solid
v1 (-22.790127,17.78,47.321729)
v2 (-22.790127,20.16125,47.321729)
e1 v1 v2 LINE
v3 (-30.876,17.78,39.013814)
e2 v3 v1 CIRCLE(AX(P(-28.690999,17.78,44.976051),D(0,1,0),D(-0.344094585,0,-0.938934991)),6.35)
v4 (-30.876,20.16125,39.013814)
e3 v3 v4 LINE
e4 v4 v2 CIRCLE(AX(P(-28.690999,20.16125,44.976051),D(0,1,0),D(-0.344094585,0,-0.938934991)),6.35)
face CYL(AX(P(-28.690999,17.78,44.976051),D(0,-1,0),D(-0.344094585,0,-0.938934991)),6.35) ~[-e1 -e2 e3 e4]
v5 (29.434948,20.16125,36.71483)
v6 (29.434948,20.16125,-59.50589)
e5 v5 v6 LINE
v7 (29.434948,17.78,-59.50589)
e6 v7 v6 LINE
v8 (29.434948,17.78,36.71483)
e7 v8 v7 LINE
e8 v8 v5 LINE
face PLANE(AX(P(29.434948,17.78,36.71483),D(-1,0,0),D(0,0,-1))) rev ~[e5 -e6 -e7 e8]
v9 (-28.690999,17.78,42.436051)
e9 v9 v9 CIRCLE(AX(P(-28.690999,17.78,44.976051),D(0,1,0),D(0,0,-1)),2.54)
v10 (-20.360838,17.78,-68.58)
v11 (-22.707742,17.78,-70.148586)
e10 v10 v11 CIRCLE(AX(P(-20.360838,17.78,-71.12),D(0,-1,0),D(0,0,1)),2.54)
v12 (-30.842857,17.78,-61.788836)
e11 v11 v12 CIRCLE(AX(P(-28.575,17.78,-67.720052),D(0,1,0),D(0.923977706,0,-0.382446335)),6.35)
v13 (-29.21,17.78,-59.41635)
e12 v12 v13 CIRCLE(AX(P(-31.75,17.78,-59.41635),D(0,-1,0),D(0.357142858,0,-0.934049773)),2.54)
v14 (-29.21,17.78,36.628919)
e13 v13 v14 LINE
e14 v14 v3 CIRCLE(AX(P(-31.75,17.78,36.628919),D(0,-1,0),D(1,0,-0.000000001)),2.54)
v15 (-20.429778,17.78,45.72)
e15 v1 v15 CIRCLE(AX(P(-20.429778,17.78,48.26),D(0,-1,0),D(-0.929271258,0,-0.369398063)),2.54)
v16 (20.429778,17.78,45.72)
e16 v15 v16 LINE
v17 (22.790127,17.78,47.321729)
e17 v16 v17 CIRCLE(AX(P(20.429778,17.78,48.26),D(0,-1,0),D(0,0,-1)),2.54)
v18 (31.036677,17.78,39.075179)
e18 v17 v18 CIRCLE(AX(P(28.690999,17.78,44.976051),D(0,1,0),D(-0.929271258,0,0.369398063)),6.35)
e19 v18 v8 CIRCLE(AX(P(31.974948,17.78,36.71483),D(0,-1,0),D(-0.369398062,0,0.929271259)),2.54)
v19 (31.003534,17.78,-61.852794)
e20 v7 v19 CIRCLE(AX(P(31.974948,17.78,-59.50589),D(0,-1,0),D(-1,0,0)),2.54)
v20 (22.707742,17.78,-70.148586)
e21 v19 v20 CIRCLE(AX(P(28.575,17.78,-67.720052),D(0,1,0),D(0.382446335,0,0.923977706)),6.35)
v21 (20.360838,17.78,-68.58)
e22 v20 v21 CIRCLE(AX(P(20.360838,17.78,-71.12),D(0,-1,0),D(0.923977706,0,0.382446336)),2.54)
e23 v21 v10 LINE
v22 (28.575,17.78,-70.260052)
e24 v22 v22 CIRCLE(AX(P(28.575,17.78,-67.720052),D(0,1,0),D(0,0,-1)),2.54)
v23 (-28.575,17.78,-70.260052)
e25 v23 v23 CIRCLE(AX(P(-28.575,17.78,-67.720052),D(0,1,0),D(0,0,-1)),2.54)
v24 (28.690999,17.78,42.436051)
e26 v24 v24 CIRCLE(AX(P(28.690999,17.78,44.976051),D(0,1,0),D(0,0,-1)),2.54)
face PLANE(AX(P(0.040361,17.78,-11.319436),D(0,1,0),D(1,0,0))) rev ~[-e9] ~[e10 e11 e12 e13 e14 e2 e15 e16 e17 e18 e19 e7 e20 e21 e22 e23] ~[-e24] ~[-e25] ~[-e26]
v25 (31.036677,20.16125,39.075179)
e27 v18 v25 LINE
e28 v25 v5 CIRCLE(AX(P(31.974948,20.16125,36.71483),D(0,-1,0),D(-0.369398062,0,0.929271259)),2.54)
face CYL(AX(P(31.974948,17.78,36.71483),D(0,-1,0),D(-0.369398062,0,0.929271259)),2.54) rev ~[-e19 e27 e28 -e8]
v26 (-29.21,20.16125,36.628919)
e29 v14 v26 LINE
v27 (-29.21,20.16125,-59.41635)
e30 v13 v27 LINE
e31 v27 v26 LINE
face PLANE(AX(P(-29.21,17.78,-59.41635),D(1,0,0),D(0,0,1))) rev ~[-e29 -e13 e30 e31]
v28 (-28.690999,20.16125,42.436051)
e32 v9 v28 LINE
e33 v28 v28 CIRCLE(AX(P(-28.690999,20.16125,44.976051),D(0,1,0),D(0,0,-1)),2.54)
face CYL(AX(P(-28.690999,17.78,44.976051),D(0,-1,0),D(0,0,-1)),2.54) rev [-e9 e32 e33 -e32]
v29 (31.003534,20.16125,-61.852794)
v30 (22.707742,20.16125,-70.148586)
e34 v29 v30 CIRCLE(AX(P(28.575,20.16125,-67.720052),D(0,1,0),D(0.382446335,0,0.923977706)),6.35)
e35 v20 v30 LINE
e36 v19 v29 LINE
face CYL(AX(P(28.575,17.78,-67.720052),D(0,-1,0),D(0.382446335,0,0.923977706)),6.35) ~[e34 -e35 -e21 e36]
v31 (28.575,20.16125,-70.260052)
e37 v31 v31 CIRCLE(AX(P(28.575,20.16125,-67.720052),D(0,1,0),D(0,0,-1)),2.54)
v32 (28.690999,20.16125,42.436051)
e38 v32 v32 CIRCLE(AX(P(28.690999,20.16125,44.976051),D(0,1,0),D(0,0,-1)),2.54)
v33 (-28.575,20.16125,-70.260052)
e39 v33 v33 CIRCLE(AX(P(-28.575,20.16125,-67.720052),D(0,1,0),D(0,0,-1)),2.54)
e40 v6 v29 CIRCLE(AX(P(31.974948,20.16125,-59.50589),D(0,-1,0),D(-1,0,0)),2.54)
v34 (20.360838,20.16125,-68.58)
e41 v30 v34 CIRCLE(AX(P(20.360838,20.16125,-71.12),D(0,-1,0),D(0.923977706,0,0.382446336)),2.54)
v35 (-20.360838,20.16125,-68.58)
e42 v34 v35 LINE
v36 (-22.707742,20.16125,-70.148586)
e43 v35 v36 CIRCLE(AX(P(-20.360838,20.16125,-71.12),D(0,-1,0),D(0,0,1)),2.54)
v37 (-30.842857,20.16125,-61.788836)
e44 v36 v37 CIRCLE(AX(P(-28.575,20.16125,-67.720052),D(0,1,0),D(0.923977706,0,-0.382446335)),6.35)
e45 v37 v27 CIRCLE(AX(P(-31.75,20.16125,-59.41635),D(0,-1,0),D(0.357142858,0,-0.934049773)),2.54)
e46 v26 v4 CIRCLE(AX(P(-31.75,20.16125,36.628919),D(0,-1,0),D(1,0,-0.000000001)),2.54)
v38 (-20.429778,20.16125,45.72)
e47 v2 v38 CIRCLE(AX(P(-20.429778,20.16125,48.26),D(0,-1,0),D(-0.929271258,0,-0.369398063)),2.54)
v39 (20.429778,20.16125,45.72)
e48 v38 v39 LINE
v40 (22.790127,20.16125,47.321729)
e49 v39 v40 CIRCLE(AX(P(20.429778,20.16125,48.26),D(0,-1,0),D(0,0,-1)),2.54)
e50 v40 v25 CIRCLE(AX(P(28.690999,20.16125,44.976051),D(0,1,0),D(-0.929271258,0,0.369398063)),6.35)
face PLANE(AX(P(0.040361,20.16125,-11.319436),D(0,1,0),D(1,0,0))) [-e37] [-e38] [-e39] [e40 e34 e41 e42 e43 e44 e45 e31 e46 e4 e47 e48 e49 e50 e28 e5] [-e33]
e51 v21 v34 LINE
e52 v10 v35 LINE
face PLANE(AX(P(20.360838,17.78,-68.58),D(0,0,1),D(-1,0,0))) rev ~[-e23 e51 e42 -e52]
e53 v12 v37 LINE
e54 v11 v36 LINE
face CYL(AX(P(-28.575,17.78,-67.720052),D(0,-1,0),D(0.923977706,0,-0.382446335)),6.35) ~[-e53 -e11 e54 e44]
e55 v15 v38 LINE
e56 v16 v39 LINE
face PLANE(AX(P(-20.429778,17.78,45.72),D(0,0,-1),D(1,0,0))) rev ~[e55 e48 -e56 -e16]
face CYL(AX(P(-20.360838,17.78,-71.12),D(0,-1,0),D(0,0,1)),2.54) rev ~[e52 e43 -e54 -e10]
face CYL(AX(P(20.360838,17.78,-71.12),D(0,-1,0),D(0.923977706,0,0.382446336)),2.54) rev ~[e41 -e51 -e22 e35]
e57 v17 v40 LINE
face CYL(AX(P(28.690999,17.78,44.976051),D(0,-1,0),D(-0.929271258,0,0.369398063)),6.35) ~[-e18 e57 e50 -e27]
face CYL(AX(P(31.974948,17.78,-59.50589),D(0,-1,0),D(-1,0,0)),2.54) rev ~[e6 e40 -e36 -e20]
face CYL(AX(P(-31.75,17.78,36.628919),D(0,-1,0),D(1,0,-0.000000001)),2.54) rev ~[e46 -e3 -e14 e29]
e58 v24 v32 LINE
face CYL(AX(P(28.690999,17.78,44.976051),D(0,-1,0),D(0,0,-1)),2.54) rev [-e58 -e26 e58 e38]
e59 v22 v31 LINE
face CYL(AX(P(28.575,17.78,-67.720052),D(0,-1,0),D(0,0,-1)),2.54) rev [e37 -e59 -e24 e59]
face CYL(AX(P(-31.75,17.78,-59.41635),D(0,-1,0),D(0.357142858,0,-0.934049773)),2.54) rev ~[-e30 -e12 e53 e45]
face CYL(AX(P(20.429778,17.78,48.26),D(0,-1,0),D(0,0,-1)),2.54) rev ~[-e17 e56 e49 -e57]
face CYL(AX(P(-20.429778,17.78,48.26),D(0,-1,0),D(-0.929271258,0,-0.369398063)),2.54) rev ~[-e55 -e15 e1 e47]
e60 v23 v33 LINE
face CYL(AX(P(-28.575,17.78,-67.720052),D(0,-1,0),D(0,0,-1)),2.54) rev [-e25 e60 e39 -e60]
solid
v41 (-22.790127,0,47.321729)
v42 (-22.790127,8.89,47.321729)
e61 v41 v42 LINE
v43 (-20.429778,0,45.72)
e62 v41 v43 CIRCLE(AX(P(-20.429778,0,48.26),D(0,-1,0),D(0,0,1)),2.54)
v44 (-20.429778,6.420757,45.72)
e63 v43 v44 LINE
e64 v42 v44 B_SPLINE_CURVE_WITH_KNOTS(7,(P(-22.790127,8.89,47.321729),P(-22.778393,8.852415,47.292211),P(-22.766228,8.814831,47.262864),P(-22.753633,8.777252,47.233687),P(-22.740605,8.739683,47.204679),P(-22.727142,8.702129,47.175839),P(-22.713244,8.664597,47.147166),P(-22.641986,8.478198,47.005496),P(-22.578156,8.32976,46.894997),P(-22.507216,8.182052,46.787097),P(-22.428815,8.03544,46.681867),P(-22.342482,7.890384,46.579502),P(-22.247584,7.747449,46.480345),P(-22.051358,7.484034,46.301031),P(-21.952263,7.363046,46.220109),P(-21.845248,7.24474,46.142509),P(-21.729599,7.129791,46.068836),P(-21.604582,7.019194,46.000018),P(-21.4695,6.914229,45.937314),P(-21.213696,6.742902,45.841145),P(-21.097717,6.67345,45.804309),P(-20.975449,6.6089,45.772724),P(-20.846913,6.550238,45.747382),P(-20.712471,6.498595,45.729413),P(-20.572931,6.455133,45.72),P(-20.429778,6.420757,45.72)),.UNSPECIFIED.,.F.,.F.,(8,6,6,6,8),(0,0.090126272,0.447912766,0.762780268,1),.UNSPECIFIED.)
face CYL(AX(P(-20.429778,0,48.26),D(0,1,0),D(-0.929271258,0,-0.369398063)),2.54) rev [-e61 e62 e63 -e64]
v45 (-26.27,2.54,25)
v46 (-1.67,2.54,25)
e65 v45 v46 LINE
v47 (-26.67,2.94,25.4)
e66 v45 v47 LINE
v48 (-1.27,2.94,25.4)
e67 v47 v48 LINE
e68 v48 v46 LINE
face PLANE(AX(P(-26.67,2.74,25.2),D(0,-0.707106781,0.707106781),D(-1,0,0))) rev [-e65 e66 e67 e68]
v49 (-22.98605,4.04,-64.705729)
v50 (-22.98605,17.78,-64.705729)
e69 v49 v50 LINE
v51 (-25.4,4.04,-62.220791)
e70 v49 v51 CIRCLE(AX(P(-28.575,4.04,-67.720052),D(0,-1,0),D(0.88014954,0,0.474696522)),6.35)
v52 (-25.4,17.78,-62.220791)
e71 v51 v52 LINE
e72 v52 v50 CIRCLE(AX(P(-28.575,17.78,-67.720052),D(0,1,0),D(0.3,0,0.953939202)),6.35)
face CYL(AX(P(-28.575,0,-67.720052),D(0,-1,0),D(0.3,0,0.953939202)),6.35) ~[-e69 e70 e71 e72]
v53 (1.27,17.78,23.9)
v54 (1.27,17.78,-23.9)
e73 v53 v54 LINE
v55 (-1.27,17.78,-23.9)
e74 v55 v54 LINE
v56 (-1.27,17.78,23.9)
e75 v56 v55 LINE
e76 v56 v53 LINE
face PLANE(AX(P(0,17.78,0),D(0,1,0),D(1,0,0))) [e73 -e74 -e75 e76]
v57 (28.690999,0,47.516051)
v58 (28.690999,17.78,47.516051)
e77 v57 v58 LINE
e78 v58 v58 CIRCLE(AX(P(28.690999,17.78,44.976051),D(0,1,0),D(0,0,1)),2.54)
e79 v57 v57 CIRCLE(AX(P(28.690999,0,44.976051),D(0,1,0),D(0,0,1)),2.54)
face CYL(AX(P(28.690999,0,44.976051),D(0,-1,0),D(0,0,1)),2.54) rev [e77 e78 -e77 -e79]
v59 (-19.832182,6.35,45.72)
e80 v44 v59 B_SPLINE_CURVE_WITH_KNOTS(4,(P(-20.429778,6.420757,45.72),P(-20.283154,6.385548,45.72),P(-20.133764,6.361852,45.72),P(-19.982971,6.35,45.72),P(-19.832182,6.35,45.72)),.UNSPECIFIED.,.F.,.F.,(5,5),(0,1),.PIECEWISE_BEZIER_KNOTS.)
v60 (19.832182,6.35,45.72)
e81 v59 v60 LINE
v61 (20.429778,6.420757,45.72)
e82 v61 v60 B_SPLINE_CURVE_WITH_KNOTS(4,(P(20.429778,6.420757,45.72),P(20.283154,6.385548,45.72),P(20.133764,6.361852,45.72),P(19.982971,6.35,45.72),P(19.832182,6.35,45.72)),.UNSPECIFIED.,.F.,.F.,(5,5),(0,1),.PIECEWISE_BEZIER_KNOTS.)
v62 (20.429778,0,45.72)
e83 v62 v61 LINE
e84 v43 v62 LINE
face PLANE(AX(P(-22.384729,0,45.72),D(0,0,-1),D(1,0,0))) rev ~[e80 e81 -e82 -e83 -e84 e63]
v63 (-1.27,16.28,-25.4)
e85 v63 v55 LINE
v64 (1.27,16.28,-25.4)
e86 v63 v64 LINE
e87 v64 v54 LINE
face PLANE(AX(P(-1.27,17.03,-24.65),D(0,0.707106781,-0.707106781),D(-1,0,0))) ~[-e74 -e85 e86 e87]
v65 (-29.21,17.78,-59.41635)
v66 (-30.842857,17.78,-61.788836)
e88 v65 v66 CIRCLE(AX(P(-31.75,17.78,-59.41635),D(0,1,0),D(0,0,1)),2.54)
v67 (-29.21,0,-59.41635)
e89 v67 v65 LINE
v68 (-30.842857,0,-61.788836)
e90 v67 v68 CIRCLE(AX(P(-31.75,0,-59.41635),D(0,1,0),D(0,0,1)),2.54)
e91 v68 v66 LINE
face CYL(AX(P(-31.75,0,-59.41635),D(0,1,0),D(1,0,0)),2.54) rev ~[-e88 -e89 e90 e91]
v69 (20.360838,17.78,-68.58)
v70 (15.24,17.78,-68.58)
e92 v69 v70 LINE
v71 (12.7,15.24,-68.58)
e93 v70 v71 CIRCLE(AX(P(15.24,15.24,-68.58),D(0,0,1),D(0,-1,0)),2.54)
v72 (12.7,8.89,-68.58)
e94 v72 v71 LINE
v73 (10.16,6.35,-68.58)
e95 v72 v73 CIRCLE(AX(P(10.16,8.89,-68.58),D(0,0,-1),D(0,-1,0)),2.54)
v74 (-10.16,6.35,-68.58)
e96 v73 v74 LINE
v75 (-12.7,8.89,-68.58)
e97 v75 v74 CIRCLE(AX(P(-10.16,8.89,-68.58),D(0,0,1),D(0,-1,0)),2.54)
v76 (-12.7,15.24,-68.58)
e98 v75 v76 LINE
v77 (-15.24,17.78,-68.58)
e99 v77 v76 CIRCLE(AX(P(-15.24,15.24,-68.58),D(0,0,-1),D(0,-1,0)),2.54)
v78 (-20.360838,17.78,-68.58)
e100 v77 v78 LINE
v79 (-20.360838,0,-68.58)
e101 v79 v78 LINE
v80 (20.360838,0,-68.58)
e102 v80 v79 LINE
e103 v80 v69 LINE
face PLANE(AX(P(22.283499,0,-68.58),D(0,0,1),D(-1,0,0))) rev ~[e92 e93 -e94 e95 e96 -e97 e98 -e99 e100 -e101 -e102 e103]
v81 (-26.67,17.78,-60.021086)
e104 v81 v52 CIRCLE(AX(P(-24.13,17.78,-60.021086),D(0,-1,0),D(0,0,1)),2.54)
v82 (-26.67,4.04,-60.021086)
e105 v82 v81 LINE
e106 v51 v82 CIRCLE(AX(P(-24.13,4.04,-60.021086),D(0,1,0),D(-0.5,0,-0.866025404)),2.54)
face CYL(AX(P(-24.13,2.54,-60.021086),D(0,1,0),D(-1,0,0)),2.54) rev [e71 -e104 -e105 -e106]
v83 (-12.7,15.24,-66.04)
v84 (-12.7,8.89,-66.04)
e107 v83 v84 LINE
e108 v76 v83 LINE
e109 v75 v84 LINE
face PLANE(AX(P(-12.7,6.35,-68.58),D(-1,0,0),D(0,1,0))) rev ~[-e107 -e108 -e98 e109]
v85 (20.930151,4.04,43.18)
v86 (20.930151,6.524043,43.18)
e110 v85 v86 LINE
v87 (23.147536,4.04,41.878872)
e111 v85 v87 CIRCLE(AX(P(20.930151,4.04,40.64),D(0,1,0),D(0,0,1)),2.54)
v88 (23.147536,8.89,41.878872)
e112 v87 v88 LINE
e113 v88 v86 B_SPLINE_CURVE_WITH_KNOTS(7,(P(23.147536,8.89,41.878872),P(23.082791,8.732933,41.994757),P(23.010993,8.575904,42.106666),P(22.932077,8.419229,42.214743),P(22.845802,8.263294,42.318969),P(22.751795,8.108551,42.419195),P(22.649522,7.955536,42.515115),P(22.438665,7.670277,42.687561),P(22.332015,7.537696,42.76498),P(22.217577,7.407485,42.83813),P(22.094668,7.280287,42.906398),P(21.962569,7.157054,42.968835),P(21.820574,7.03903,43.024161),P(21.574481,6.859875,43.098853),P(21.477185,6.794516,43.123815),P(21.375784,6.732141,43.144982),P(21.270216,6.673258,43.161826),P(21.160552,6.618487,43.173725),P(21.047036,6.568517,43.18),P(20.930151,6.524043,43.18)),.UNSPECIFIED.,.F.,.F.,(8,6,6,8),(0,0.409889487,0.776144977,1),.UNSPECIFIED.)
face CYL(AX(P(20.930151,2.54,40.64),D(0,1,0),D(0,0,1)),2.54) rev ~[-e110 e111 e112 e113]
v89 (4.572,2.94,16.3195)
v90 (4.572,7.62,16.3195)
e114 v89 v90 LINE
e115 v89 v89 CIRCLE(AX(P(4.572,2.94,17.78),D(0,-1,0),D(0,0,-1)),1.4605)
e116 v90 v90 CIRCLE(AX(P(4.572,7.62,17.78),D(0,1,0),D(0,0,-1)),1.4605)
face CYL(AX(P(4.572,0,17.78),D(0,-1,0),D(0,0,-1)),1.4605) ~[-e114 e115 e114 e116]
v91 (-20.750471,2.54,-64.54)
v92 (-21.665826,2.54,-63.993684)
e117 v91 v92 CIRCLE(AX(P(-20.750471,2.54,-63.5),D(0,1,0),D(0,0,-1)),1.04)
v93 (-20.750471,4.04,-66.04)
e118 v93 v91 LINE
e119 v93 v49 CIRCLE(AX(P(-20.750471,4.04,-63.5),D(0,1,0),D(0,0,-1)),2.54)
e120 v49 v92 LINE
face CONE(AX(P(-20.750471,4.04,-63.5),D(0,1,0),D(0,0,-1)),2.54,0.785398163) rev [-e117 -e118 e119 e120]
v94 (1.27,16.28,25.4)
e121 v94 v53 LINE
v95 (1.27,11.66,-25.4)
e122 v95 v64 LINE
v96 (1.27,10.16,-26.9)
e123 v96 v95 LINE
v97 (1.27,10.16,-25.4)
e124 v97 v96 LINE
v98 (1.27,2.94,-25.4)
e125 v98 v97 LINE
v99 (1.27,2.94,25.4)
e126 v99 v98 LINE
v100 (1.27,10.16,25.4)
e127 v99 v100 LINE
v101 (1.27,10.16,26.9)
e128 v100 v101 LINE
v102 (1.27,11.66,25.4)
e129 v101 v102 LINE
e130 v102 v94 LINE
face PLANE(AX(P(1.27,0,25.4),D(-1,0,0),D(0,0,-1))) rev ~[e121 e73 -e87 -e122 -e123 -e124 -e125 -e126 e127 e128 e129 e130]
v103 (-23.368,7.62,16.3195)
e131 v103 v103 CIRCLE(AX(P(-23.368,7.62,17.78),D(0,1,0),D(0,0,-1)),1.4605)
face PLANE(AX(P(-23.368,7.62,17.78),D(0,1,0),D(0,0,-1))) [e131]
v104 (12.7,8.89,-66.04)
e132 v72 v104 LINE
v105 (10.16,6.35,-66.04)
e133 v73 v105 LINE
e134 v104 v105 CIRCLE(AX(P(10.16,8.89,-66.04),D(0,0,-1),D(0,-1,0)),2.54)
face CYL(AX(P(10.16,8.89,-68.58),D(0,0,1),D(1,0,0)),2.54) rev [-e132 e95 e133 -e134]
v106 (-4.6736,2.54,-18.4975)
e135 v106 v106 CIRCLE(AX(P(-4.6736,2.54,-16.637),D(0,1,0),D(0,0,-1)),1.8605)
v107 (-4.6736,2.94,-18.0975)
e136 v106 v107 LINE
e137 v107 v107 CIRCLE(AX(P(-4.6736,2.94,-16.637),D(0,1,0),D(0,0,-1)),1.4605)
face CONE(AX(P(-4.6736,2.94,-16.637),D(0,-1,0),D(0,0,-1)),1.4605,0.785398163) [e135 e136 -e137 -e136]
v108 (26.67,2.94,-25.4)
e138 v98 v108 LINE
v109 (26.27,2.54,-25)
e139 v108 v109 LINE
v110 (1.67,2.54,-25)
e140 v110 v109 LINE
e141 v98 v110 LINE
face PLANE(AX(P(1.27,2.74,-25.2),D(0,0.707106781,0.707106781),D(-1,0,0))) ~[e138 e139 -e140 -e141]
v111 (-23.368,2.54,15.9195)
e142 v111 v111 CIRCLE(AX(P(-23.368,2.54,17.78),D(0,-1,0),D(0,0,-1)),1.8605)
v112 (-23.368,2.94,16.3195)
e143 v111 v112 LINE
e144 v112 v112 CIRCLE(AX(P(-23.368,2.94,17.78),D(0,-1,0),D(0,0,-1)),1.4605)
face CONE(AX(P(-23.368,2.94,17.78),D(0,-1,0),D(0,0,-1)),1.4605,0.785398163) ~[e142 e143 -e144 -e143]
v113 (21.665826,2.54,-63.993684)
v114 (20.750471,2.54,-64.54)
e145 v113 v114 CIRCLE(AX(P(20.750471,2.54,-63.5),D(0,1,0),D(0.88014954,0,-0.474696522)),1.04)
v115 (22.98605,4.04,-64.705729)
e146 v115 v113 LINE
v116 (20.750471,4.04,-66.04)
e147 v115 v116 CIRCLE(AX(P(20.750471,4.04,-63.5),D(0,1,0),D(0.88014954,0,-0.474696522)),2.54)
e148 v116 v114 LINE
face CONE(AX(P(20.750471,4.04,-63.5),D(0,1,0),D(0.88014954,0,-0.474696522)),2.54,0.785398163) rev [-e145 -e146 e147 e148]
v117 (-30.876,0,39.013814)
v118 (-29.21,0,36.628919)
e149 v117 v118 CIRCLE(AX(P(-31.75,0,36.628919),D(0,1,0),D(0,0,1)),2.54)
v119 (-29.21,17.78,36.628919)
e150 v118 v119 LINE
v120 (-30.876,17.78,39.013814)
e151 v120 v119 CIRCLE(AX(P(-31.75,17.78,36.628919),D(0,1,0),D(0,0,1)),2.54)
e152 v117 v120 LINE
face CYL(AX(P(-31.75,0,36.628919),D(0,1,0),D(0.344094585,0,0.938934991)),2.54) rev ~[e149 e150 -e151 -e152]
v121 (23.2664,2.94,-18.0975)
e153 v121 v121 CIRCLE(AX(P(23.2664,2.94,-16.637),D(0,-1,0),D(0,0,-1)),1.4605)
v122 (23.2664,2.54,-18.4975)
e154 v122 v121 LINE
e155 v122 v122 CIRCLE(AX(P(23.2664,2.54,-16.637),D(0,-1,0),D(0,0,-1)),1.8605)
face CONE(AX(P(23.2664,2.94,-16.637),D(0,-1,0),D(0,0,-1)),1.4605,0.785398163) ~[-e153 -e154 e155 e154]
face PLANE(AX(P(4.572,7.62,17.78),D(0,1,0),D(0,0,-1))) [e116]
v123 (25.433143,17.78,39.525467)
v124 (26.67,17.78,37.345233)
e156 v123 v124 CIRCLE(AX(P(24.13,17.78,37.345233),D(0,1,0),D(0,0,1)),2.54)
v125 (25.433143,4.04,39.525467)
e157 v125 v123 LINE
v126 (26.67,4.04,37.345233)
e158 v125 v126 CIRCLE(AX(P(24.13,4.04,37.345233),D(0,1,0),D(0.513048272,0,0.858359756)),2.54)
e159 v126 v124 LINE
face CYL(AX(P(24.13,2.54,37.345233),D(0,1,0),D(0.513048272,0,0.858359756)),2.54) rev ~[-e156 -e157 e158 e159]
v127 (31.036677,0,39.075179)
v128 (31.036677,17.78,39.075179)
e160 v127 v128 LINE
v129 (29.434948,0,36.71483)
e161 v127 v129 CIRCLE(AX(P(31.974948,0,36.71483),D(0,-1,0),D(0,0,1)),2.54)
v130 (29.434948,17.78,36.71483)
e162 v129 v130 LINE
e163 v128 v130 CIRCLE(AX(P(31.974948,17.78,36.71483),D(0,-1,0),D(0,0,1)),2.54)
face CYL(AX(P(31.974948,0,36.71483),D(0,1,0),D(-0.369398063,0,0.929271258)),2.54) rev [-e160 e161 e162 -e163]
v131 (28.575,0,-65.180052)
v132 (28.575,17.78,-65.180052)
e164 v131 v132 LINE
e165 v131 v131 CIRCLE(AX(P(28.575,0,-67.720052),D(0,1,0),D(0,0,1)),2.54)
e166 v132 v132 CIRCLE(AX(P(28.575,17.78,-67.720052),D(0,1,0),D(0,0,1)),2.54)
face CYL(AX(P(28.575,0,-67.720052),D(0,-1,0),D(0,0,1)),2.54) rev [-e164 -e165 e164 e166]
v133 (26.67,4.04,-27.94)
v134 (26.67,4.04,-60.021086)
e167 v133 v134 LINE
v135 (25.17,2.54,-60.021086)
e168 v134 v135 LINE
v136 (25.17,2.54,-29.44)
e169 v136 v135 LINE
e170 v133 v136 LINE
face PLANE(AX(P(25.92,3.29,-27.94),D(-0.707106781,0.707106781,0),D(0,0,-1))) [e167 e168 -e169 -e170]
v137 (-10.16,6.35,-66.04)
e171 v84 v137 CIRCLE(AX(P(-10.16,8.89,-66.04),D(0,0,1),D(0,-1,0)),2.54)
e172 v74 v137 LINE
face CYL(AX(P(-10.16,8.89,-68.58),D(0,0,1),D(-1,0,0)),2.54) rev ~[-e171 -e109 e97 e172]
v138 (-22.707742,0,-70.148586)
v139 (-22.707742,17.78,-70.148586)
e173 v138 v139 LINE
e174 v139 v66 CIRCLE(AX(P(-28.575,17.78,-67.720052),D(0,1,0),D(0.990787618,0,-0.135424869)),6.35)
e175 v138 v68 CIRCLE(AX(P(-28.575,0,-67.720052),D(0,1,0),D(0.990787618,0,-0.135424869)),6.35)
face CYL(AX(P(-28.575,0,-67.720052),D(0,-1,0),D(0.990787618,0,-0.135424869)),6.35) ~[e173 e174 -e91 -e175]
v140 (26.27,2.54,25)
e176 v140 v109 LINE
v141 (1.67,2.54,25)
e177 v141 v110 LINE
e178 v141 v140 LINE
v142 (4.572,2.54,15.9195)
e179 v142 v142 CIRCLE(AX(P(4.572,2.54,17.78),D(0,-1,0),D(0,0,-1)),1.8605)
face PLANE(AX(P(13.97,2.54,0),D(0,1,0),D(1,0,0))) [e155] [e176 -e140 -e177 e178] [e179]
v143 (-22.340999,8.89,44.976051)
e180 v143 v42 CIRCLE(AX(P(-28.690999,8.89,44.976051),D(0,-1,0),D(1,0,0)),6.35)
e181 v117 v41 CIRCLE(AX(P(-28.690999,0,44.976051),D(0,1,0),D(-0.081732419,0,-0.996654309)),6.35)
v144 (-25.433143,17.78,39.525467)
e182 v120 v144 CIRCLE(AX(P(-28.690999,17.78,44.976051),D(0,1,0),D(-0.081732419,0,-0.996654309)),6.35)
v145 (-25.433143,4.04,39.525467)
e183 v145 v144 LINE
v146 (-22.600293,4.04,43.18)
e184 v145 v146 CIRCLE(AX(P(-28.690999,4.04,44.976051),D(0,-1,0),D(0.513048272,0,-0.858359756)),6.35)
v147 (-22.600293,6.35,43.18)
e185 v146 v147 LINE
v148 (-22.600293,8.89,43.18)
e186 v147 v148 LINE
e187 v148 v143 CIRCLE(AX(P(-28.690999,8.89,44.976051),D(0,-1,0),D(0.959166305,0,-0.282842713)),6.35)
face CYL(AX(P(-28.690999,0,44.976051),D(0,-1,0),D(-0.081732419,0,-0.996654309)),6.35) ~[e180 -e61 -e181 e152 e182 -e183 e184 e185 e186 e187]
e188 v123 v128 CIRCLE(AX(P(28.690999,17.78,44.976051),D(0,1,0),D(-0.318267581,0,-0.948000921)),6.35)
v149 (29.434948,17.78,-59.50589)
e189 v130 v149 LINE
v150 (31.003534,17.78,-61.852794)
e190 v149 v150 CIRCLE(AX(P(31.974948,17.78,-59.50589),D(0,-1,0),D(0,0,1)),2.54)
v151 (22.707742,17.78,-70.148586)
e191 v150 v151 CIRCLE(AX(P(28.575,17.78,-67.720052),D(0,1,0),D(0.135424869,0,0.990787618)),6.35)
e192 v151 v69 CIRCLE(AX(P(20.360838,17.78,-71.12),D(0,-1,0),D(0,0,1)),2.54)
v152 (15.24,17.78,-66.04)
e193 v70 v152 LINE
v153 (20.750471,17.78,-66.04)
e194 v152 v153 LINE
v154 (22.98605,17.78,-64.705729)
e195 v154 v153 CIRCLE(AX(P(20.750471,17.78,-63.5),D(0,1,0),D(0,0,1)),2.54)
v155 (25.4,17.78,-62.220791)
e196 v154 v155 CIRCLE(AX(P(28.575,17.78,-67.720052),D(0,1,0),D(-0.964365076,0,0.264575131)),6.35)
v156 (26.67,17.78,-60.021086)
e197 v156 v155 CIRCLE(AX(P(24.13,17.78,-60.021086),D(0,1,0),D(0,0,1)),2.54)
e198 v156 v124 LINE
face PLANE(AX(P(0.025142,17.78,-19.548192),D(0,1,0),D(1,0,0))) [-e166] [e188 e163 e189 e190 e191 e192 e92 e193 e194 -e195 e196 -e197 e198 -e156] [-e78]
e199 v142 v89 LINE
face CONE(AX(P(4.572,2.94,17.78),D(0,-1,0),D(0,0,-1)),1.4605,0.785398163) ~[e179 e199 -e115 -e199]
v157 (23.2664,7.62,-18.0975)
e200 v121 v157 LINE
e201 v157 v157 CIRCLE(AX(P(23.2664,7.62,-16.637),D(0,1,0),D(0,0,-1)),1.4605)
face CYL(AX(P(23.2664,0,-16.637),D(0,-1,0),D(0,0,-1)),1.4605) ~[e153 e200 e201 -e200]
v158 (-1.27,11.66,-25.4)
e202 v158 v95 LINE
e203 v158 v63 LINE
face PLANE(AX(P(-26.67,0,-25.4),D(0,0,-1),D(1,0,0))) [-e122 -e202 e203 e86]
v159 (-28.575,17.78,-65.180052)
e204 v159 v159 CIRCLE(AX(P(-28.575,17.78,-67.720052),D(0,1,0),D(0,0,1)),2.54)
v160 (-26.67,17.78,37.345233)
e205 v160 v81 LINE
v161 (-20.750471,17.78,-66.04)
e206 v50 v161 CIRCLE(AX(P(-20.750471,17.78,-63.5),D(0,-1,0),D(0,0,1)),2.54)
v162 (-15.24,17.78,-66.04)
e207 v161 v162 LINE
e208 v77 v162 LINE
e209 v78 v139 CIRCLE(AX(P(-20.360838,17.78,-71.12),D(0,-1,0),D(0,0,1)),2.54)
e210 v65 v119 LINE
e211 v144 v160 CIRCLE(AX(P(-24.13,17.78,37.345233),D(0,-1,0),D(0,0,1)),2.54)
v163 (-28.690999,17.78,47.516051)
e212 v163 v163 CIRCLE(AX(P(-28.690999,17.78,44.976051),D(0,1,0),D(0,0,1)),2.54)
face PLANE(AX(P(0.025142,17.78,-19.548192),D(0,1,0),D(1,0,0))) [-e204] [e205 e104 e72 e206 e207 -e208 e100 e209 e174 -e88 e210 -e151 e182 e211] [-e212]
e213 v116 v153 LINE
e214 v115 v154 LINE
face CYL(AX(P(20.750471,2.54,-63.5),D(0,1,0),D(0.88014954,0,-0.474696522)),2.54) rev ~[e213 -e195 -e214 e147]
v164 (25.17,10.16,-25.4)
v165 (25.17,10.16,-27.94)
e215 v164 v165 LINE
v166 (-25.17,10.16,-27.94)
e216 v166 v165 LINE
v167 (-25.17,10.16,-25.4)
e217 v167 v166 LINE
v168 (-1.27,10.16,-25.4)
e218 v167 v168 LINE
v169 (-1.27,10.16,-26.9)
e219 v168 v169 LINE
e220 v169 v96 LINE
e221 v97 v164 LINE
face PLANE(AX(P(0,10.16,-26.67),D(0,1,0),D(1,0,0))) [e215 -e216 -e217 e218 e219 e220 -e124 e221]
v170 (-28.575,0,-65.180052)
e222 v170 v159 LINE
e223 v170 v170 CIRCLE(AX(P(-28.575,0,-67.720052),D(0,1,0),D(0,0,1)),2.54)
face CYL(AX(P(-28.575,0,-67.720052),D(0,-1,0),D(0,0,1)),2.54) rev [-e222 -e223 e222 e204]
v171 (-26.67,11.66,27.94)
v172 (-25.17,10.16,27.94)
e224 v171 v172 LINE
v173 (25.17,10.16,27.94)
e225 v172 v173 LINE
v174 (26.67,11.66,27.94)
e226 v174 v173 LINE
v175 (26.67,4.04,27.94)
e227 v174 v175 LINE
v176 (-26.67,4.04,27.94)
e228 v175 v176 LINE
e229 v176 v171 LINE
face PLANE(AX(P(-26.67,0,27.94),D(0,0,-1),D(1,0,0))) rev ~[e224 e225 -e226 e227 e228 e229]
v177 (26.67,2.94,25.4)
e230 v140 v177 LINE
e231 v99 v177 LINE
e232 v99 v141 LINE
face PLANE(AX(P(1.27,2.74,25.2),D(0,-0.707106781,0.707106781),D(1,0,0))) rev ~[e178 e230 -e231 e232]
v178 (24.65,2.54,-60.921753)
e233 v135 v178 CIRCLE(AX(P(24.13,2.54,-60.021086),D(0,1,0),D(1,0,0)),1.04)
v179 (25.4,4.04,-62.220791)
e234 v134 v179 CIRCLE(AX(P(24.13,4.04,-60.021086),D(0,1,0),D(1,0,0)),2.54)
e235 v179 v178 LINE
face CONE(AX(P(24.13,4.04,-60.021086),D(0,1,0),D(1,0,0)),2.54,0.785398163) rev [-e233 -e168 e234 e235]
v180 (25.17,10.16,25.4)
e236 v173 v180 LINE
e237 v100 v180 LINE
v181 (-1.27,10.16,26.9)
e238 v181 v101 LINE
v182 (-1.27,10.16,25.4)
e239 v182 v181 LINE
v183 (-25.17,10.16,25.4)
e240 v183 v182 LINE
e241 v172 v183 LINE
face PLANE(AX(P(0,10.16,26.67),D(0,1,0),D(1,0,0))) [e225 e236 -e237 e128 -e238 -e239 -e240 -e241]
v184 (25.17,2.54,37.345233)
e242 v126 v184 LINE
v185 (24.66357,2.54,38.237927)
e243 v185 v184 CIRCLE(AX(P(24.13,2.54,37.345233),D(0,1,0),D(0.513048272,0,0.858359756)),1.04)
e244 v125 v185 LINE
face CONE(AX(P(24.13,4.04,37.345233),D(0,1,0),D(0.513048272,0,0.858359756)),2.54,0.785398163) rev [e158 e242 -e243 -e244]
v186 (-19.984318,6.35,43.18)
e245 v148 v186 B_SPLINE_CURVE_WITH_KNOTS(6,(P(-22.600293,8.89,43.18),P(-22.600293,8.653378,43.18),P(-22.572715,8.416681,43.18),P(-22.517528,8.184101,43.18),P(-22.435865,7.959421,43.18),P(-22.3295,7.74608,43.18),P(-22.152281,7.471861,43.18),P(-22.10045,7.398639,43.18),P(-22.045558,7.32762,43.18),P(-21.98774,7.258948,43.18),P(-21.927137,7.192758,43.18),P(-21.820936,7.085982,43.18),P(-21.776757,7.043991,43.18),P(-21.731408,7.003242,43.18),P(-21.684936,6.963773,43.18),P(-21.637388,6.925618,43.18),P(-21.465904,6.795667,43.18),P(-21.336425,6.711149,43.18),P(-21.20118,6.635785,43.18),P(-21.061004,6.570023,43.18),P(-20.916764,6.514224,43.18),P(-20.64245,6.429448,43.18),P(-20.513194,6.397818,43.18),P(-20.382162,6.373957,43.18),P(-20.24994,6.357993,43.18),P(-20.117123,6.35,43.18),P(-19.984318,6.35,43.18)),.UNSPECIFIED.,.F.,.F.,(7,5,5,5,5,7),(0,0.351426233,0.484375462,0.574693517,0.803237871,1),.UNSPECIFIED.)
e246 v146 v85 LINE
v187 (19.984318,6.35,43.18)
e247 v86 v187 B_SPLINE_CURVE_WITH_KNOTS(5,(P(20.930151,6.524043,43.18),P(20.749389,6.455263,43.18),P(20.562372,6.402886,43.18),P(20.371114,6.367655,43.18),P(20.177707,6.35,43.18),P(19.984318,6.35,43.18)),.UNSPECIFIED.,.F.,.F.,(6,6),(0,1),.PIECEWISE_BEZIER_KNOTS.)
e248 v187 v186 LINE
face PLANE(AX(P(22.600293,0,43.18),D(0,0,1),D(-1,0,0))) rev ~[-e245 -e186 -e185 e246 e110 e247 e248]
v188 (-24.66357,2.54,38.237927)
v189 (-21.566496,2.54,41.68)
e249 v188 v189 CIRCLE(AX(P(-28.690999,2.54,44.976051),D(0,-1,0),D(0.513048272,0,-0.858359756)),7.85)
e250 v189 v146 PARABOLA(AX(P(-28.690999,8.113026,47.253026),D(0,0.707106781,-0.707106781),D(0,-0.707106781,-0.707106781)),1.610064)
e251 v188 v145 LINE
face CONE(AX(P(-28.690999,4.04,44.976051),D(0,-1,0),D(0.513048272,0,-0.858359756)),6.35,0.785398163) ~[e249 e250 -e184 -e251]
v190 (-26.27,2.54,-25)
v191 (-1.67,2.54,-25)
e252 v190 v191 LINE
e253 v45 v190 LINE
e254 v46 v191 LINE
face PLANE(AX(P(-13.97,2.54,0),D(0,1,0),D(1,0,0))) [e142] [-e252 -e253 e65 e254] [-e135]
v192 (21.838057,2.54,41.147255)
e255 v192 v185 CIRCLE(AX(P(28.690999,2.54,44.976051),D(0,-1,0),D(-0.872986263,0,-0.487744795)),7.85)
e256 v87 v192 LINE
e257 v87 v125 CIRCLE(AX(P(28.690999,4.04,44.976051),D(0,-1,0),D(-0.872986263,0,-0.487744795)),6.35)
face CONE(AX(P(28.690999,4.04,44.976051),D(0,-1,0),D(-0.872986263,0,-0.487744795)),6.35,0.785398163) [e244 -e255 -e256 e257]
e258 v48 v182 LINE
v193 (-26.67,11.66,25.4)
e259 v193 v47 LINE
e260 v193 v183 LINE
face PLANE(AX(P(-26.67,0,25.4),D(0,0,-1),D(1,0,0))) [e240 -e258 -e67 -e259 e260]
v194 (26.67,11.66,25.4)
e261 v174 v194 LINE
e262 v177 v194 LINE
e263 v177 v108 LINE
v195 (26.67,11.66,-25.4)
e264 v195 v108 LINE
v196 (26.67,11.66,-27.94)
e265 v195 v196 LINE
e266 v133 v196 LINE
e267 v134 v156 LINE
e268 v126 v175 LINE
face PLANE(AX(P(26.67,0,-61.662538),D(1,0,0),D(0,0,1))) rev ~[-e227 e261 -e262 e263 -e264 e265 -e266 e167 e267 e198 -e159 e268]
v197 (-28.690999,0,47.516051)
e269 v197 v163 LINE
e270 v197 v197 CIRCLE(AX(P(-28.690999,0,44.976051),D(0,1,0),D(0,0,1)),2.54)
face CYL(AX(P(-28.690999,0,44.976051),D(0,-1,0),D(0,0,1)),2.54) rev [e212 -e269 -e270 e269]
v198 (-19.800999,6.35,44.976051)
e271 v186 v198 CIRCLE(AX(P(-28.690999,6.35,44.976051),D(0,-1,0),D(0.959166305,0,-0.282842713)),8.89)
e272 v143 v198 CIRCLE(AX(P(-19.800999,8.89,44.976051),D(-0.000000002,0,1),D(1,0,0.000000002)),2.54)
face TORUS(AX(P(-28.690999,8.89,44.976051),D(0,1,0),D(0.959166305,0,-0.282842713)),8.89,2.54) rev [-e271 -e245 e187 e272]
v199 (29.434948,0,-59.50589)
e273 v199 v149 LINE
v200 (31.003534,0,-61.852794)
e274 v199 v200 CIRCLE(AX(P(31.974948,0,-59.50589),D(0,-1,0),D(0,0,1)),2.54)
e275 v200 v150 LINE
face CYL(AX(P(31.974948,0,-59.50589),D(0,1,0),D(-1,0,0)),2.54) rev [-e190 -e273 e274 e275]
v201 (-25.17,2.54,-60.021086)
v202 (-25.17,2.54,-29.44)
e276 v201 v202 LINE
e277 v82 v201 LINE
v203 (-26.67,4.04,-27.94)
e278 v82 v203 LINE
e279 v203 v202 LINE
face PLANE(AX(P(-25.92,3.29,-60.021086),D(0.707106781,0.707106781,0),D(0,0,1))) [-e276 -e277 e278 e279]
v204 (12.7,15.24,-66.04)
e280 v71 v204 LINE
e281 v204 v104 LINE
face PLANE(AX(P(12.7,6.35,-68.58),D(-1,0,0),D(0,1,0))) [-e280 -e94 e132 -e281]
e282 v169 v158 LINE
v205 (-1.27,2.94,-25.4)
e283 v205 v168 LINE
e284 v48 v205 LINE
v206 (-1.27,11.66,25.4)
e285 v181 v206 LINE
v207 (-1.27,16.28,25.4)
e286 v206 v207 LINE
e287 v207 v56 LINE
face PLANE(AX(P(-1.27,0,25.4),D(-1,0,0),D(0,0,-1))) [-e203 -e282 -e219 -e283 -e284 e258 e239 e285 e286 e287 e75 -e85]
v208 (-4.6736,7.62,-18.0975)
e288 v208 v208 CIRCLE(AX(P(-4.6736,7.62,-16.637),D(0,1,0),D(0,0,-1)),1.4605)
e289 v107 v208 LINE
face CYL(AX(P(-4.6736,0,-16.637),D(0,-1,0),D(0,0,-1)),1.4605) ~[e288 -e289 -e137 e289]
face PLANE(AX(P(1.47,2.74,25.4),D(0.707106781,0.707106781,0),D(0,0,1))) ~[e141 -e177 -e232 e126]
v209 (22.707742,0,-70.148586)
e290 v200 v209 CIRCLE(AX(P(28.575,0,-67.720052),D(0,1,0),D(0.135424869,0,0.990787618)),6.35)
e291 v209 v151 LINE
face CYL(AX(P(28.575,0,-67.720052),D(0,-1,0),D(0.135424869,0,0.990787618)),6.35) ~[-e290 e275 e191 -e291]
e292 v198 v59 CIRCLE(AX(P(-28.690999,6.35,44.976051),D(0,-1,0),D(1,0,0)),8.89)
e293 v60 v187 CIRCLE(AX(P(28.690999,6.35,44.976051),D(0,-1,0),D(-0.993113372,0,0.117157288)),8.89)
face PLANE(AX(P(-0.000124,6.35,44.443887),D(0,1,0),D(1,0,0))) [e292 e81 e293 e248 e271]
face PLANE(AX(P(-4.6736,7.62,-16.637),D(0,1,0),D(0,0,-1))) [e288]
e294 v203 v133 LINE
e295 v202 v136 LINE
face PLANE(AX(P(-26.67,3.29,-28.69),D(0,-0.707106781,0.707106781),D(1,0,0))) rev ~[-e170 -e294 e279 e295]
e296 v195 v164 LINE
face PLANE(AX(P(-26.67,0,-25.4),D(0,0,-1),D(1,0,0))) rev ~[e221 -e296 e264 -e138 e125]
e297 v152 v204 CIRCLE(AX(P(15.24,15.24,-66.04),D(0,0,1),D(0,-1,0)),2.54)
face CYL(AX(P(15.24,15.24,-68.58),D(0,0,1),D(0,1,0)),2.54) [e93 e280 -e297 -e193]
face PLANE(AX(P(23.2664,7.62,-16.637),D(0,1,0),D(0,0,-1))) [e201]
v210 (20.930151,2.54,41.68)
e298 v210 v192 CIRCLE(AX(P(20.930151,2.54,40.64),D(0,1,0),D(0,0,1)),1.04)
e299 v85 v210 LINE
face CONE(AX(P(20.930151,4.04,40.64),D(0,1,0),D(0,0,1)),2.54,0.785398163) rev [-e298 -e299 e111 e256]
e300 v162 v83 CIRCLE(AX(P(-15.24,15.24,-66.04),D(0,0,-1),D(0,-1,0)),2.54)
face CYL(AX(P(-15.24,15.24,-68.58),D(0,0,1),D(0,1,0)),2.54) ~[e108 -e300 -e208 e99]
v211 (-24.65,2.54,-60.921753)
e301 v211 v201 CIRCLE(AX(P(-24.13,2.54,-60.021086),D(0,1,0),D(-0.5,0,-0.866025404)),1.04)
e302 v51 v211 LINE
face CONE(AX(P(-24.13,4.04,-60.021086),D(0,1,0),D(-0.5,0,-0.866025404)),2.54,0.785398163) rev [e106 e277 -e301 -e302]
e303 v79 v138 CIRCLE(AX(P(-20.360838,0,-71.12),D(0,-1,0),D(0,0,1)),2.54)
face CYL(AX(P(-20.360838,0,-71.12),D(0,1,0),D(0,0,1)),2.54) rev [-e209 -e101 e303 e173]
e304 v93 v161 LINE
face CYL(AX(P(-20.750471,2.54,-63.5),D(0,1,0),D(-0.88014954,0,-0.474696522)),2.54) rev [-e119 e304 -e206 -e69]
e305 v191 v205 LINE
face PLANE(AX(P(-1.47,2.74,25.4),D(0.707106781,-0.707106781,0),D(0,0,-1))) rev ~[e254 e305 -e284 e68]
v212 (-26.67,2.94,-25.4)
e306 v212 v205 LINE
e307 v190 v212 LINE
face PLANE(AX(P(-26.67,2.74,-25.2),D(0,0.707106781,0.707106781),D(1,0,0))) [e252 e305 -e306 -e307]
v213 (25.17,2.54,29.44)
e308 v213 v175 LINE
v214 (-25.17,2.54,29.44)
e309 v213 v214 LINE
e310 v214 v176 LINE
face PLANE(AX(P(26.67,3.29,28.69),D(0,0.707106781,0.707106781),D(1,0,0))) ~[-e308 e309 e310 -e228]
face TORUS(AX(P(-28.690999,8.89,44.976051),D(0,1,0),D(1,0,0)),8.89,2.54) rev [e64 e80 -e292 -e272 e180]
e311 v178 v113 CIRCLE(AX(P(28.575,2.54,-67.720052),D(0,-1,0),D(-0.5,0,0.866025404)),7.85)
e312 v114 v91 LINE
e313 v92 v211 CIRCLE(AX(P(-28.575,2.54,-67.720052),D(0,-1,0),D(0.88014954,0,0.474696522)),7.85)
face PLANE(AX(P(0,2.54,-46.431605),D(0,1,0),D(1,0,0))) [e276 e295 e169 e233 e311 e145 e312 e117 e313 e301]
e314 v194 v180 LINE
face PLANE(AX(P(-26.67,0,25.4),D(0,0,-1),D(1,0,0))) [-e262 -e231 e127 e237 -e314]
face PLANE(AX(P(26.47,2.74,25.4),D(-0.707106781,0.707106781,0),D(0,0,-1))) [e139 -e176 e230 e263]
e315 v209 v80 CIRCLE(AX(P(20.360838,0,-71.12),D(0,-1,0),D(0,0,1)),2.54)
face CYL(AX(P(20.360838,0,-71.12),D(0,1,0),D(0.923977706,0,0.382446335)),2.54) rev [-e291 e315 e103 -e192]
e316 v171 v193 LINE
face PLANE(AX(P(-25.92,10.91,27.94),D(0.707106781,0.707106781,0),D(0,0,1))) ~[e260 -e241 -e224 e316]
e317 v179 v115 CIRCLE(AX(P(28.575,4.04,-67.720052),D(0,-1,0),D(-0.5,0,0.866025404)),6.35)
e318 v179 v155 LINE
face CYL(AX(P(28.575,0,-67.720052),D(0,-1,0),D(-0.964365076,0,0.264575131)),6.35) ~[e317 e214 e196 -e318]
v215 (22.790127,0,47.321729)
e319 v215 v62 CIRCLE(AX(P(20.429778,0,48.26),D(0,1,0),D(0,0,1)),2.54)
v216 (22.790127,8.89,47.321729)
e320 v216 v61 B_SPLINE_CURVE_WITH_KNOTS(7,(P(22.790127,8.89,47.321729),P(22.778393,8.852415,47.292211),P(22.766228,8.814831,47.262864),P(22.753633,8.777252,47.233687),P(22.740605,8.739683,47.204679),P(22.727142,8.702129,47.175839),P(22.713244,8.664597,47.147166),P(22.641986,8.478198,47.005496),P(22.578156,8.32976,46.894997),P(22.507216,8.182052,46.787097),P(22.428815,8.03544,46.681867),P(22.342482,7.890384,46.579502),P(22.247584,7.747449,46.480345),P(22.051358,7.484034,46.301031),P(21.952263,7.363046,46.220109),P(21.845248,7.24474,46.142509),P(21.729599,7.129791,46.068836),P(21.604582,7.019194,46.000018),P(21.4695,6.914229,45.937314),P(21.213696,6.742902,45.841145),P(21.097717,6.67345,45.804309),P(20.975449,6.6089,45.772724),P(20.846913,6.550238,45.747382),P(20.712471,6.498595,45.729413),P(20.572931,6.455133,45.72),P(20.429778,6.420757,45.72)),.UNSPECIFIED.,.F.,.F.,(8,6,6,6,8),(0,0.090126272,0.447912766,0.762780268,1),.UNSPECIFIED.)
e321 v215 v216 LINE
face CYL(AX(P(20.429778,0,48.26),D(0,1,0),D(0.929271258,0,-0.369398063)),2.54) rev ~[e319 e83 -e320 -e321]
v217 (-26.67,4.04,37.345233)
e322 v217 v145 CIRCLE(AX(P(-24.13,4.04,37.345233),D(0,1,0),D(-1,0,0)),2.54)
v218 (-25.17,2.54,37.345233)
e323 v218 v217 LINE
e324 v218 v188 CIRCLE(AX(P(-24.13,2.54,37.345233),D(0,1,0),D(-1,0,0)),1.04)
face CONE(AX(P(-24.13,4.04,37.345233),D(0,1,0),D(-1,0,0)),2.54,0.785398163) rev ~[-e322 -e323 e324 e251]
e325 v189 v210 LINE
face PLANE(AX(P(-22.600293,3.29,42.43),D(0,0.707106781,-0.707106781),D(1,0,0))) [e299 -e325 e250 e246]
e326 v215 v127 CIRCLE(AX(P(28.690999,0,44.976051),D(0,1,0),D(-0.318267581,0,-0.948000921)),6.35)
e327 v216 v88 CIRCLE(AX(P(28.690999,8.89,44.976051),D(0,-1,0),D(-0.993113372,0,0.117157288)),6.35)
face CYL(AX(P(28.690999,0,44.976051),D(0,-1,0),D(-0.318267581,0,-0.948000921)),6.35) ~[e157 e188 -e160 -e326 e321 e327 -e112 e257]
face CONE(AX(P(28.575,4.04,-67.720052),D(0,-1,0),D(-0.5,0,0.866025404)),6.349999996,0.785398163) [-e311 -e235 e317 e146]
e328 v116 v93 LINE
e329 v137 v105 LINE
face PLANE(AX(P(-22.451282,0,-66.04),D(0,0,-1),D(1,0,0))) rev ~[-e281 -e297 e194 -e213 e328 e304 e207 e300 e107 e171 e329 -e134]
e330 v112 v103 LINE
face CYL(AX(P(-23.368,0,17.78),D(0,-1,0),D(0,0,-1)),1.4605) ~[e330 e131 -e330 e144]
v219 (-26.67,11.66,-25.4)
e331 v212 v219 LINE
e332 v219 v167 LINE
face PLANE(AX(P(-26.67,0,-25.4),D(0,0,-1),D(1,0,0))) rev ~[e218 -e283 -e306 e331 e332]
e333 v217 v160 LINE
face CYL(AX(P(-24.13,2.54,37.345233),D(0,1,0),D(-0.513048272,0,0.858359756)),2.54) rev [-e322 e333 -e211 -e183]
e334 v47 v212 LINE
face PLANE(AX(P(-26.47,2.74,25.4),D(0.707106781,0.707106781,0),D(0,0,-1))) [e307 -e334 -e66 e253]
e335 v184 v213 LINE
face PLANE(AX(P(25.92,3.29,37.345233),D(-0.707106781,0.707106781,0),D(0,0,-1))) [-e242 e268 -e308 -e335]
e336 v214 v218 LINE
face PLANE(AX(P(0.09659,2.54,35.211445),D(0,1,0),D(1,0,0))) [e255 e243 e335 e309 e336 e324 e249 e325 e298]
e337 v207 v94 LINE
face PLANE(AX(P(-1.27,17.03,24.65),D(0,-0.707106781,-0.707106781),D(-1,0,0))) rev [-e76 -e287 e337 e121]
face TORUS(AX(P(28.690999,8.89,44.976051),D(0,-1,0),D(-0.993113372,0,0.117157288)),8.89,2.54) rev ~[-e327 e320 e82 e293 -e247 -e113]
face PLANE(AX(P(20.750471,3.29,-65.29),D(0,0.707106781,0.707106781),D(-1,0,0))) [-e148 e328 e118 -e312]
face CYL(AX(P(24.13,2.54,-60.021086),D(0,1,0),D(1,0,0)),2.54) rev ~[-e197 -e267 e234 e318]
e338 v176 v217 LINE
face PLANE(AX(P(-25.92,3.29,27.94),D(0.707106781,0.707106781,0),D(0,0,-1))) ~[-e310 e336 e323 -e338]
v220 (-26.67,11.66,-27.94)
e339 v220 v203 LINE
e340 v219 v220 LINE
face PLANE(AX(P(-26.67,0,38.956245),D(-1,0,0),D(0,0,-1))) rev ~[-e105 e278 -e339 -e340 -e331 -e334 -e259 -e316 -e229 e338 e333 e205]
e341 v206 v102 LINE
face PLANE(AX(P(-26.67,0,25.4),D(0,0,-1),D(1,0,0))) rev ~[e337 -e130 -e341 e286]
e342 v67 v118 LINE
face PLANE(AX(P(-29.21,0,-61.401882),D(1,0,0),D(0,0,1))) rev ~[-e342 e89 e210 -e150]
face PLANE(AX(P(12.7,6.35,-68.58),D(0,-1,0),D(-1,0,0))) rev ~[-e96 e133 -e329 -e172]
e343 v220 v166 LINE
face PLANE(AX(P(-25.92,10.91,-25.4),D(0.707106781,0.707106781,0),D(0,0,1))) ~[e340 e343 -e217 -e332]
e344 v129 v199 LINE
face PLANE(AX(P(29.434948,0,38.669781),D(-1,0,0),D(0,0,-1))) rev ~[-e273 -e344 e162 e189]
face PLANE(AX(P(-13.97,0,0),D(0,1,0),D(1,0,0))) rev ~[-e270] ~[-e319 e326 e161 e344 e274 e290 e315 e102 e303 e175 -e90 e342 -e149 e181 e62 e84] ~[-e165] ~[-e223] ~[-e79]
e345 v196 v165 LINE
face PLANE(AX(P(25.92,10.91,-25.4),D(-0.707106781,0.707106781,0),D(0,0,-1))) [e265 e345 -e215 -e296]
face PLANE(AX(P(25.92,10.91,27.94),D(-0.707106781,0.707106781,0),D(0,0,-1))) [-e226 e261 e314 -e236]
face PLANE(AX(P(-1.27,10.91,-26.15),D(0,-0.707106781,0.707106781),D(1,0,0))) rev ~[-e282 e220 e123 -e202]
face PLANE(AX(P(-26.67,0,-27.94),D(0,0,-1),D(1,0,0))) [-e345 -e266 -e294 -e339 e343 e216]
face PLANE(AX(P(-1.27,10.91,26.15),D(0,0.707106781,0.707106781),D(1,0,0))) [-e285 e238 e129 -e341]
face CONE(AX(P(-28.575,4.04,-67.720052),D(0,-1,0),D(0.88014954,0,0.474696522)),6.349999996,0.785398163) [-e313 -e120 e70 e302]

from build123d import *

# Parameters (mm, degrees)
SKETCH1_R             = 2.54
BOSS_EXTRUDE1_DEPTH   = 17.78
SKETCH1_W             = 2.54
SKETCH1_H             = 50.8
BOSS_EXTRUDE1_2_DEPTH = 17.78
SKETCH25_W            = 25.4
SKETCH25_H            = 50.8
SKETCH25_R            = 1.4605
BOSS_EXTRUDE10_DEPTH  = 2.54
SKETCH16_R            = 1.4605
BOSS_EXTRUDE8_DEPTH   = 7.62
SKETCH17_W            = 53.34
SKETCH17_H            = 2.54
BOSS_EXTRUDE9_DEPTH   = 10.16
BOSS_EXTRUDE11_DEPTH  = 6.35
CUT_EXTRUDE7_REACH    = 128.18
SKETCH20_W            = 25.4
SKETCH20_H            = 11.43
FILLET1_R             = 2.54
CHAMFER1_SIZE         = 1.5
CHAMFER2_SIZE         = 0.399999962
SKETCH28_R            = 2.54
BOSS_EXTRUDE12_DEPTH  = 2.38125


with BuildPart() as part:
    # Sketch1 → Boss-Extrude1 (new body)
    with BuildSketch(Plane(origin=(0, 0, 0), x_dir=(1, 0, 0), z_dir=(0, 1, 0))):
        with BuildLine():
            Line((-26.67, -38.956245374), (-26.67, 61.662538154))
            ThreePointArc((-26.67, 61.662538154), (-24.002733366, 63.313593433), (-22.451281767, 66.04))
            Line((-22.451281767, 66.04), (22.451281767, 66.04))
            ThreePointArc((22.451281767, 66.04), (24.002733366, 63.313593433), (26.67, 61.662538154))
            Line((26.67, 61.662538154), (26.67, -38.956245374))
            ThreePointArc((26.67, -38.956245374), (29.345391856, -51.292242337), (29.434947917, -38.669781311))
            Line((29.434947917, -38.669781311), (29.434947917, 61.428550705))
            ThreePointArc((29.434947917, 61.428550705), (33.065128061, 72.210180143), (22.283498623, 68.58))
            Line((22.283498623, 68.58), (-22.283498623, 68.58))
            ThreePointArc((-22.283498623, 68.58), (-33.14450183, 72.129377771), (-29.21, 61.401881857))
            Line((-29.21, 61.401881857), (-29.21, -38.647296362))
            ThreePointArc((-29.21, -38.647296362), (-29.457720789, -51.27959292), (-26.67, -38.956245374))
        make_face()
        with Locations(Location((-28.690999142, -44.976051224, 0), (0, 0, 270))):
            Circle(SKETCH1_R, mode=Mode.SUBTRACT)
        with Locations(Location((-28.575, 67.720052083, 0), (0, 0, 270))):
            Circle(SKETCH1_R, mode=Mode.SUBTRACT)
        with Locations(Location((28.690999142, -44.976051224, 0), (0, 0, 270))):
            Circle(SKETCH1_R, mode=Mode.SUBTRACT)
        with Locations(Location((28.575, 67.720052083, 0), (0, 0, 270))):
            Circle(SKETCH1_R, mode=Mode.SUBTRACT)
    extrude(amount=BOSS_EXTRUDE1_DEPTH)



with BuildPart() as body_2:
    # Sketch1 → Boss-Extrude1 2 (new body)
    with BuildSketch(Plane(origin=(0, 0, 0), x_dir=(1, 0, 0), z_dir=(0, 1, 0))):
        Rectangle(SKETCH1_W, SKETCH1_H)
    extrude(amount=BOSS_EXTRUDE1_2_DEPTH)


with BuildPart() as part_1:
    add(part.part)

    add(body_2.part)  # Boss-Extrude10 merges body 2
    # Sketch25 → Boss-Extrude10 (add)
    # profile 1 of 4: a face of its own
    with BuildSketch(Plane(origin=(0, 0, 0), x_dir=(1, 0, 0), z_dir=(0, 1, 0))):
        with Locations((-13.97, 0)):
            Rectangle(SKETCH25_W, SKETCH25_H)
        with Locations(Location((-4.6736, 16.637, 0), (0, 0, 270))):
            Circle(SKETCH25_R, mode=Mode.SUBTRACT)
        with Locations(Location((-23.368, -17.78, 0), (0, 0, 270))):
            Circle(SKETCH25_R, mode=Mode.SUBTRACT)
    # profile 2 of 4: a face of its own
    with BuildSketch(Plane(origin=(0, 0, 0), x_dir=(1, 0, 0), z_dir=(0, 1, 0))):
        with Locations((13.97, 0)):
            Rectangle(SKETCH25_W, SKETCH25_H)
        with Locations(Location((4.572, -17.78, 0), (0, 0, 270))):
            Circle(SKETCH25_R, mode=Mode.SUBTRACT)
        with Locations(Location((23.2664, 16.637, 0), (0, 0, 270))):
            Circle(SKETCH25_R, mode=Mode.SUBTRACT)
    # profile 3 of 4: a face of its own
    with BuildSketch(Plane(origin=(0, 0, 0), x_dir=(1, 0, 0), z_dir=(0, 1, 0))):
        with BuildLine():
            Line((-26.67, 27.94), (26.67, 27.94))
            Line((26.67, 27.94), (26.67, 61.662538154))
            ThreePointArc((26.67, 61.662538154), (24.002733366, 63.313593433), (22.451281767, 66.04))
            Line((22.451281767, 66.04), (-22.451281767, 66.04))
            ThreePointArc((-22.451281767, 66.04), (-24.002733366, 63.313593433), (-26.67, 61.662538154))
            Line((-26.67, 61.662538154), (-26.67, 27.94))
        make_face()
    # profile 4 of 4: a face of its own
    with BuildSketch(Plane(origin=(0, 0, 0), x_dir=(1, 0, 0), z_dir=(0, 1, 0))):
        with BuildLine():
            Line((26.894947917, -38.88534519), (26.894947917, -27.94))
            Line((26.894947917, -27.94), (-26.67, -27.94))
            Line((-26.67, -27.94), (-26.67, -38.956245374))
            ThreePointArc((-26.67, -38.956245374), (-24.118257513, -40.570085496), (-22.600293107, -43.18))
            Line((-22.600293107, -43.18), (22.600293107, -43.18))
            ThreePointArc((22.600293107, -43.18), (24.200871081, -40.485923164), (26.894947917, -38.88534519))
        make_face()
    extrude(amount=BOSS_EXTRUDE10_DEPTH)

    # Sketch16 → Boss-Extrude8 (add)
    with BuildSketch(Plane(origin=(0, 0, 0), x_dir=(1, 0, 0), z_dir=(0, 1, 0))):
        with Locations(Location((-4.6736, 16.637, 0), (0, 0, 90))):
            Circle(SKETCH16_R)
        with Locations(Location((-23.368, -17.78, 0), (0, 0, 90))):
            Circle(SKETCH16_R)
        with Locations(Location((4.572, -17.78, 0), (0, 0, 90))):
            Circle(SKETCH16_R)
        with Locations(Location((23.2664, 16.637, 0), (0, 0, 90))):
            Circle(SKETCH16_R)
    extrude(amount=BOSS_EXTRUDE8_DEPTH)

    # Sketch17 → Boss-Extrude9 (add)
    with BuildSketch(Plane(origin=(0, 0, 0), x_dir=(1, 0, 0), z_dir=(0, 1, 0))):
        with Locations((0, -26.67)):
            Rectangle(SKETCH17_W, SKETCH17_H)
        with Locations((0, 26.67)):
            Rectangle(SKETCH17_W, SKETCH17_H)
    extrude(amount=BOSS_EXTRUDE9_DEPTH)

    # Sketch27 → Boss-Extrude11 (add)
    with BuildSketch(Plane(origin=(0, 0, 0), x_dir=(1, 0, 0), z_dir=(0, 1, 0))):
        with BuildLine():
            Line((22.600293107, -43.18), (-22.600293107, -43.18))
            ThreePointArc((-22.600293107, -43.18), (-22.406156927, -44.068715377), (-22.340999142, -44.976051224))
            ThreePointArc((-22.340999142, -44.976051224), (-22.351941091, -45.348667683), (-22.384729228, -45.72))
            Line((-22.384729228, -45.72), (22.384729228, -45.72))
            ThreePointArc((22.384729228, -45.72), (22.363744353, -44.439071861), (22.600293107, -43.18))
        make_face()
    extrude(amount=BOSS_EXTRUDE11_DEPTH)

    # Sketch20 → Cut-Extrude7 (cut, up to next)
    with BuildSketch(Plane(origin=(0, 0, -68.58), x_dir=(-1, 0, 0), z_dir=(0, 0, -1)), mode=Mode.PRIVATE) as cut_extrude7_sk1:
        with Locations((0, 12.065)):
            Rectangle(SKETCH20_W, SKETCH20_H)
    cut_extrude7_tool1 = extrude(cut_extrude7_sk1.sketch, amount=-CUT_EXTRUDE7_REACH, mode=Mode.PRIVATE) & part_1.part
    add(cut_extrude7_tool1.solids().sort_by_distance((0, 12.065, -68.58))[0], mode=Mode.SUBTRACT)

    # Fillet1
    fillet1_edges = [part_1.edges().sort_by_distance(p)[0] for p in [
        (22.363744353, 6.35, 44.439071861),
        (22.384729228, 3.175, 45.72),
        (22.600293107, 4.445, 43.18),
        (-22.384729228, 3.175, 45.72),
        (-22.363744353, 6.35, 44.439071861),
        (-12.7, 6.35, -67.31),
        (-12.7, 17.78, -67.31),
        (12.7, 17.78, -67.31),
        (12.7, 6.35, -67.31),
        (26.67, 10.16, -61.662538154),
        (22.451281767, 10.16, -66.04),
        (-22.451281767, 10.16, -66.04),
        (-26.67, 10.16, -61.662538154),
        (-26.67, 10.16, 38.956245374),
        (-29.21, 8.89, 38.647296362),
        (-29.21, 8.89, -61.401881857),
        (-22.283498623, 8.89, -68.58),
        (22.283498623, 8.89, -68.58),
        (29.434947917, 8.89, -61.428550705),
        (29.434947917, 8.89, 38.669781311),
        (26.67, 10.16, 38.956245374),
    ]]
    fillet(fillet1_edges, radius=FILLET1_R)

    # Chamfer1
    chamfer1_edges = [part_1.edges().sort_by_distance(p)[0] for p in [
        (-26.67, 2.54, -43.980543121),
        (0, 2.54, -27.94),
        (26.67, 2.54, -43.980543121),
        (-23.672253404, 2.54, 41.085718176),
        (0, 2.54, 27.94),
        (-26.67, 2.54, 32.642616498),
        (-0.835070922, 2.54, 43.18),
        (0, 10.16, 25.4),
        (-26.67, 10.16, 26.67),
        (26.67, 10.16, 26.67),
        (-26.67, 10.16, -26.67),
        (0, 10.16, -25.4),
        (26.67, 10.16, -26.67),
        (24.1357347, 2.54, 40.552018463),
        (26.67, 2.54, 32.642616498),
        (22.215621155, 2.54, 42.830700153),
        (26.339251257, 2.54, 38.598552143),
        (-26.339251257, 2.54, 38.598552143),
        (0, 2.54, -66.04),
        (24.020284559, 2.54, -63.295454107),
        (-24.020284559, 2.54, -63.295454107),
        (-26.329704526, 2.54, -61.291086243),
        (-22.052209415, 2.54, -65.681072223),
        (26.329704526, 2.54, -61.291086243),
        (22.052209415, 2.54, -65.681072223),
        (0, 17.78, 25.4),
        (0, 17.78, -25.4),
    ]]
    chamfer(chamfer1_edges, length=CHAMFER1_SIZE)

    # Chamfer2
    chamfer2_edges = [part_1.edges().sort_by_distance(p)[0] for p in [
        (-13.97, 2.54, -25.4),
        (-26.67, 2.54, 0),
        (-23.368, 2.54, 19.2405),
        (-4.6736, 2.54, -15.1765),
        (-13.97, 2.54, 25.4),
        (-1.27, 2.54, 0),
        (1.27, 2.54, 0),
        (23.2664, 2.54, -15.1765),
        (4.572, 2.54, 19.2405),
        (13.97, 2.54, 25.4),
        (26.67, 2.54, 0),
        (13.97, 2.54, -25.4),
    ]]
    chamfer(chamfer2_edges, length=CHAMFER2_SIZE)


with BuildPart() as body_2_2:
    # Sketch28 → Boss-Extrude12 (new body)
    with BuildSketch(Plane(origin=(0, 17.78, 0), x_dir=(1, 0, 0), z_dir=(0, 1, 0))):
        with BuildLine():
            Line((-29.21, 59.416349595), (-29.21, -36.628919157))
            ThreePointArc((-29.21, -36.628919157), (-29.667746338, -38.083504902), (-30.875999755, -39.013814033))
            ThreePointArc((-30.875999755, -39.013814033), (-33.241525309, -49.404957591), (-22.790126652, -47.321728921))
            ThreePointArc((-22.790126652, -47.321728921), (-21.856029993, -46.158237818), (-20.429777656, -45.72))
            Line((-20.429777656, -45.72), (20.429777656, -45.72))
            ThreePointArc((20.429777656, -45.72), (21.856029993, -46.158237818), (22.790126652, -47.321728921))
            ThreePointArc((22.790126652, -47.321728921), (33.181127202, -49.466179285), (31.036676839, -39.075178734))
            ThreePointArc((31.036676839, -39.075178734), (29.873185735, -38.141082076), (29.434947917, -36.714829738))
            Line((29.434947917, -36.714829738), (29.434947917, 59.505890278))
            ThreePointArc((29.434947917, 59.505890278), (29.863196183, 60.917309639), (31.003534227, 61.85279365))
            ThreePointArc((31.003534227, 61.85279365), (33.065128061, 72.210180143), (22.707741568, 70.148586309))
            ThreePointArc((22.707741568, 70.148586309), (21.772257556, 69.008248266), (20.360838195, 68.58))
            Line((20.360838195, 68.58), (-20.360838195, 68.58))
            ThreePointArc((-20.360838195, 68.58), (-21.772257556, 69.008248266), (-22.707741568, 70.148586309))
            ThreePointArc((-22.707741568, 70.148586309), (-33.125854715, 72.148620854), (-30.842857143, 61.78883602))
            ThreePointArc((-30.842857143, 61.78883602), (-29.657663644, 60.856394237), (-29.21, 59.416349595))
        make_face()
        with Locations(Location((28.690999142, -44.976051224, 0), (0, 0, 90))):
            Circle(SKETCH28_R, mode=Mode.SUBTRACT)
        with Locations(Location((-28.690999142, -44.976051224, 0), (0, 0, 90))):
            Circle(SKETCH28_R, mode=Mode.SUBTRACT)
        with Locations(Location((-28.575, 67.720052083, 0), (0, 0, 90))):
            Circle(SKETCH28_R, mode=Mode.SUBTRACT)
        with Locations(Location((28.575, 67.720052083, 0), (0, 0, 90))):
            Circle(SKETCH28_R, mode=Mode.SUBTRACT)
    extrude(amount=BOSS_EXTRUDE12_DEPTH)


solid = Compound([part_1.part, body_2_2.part])
